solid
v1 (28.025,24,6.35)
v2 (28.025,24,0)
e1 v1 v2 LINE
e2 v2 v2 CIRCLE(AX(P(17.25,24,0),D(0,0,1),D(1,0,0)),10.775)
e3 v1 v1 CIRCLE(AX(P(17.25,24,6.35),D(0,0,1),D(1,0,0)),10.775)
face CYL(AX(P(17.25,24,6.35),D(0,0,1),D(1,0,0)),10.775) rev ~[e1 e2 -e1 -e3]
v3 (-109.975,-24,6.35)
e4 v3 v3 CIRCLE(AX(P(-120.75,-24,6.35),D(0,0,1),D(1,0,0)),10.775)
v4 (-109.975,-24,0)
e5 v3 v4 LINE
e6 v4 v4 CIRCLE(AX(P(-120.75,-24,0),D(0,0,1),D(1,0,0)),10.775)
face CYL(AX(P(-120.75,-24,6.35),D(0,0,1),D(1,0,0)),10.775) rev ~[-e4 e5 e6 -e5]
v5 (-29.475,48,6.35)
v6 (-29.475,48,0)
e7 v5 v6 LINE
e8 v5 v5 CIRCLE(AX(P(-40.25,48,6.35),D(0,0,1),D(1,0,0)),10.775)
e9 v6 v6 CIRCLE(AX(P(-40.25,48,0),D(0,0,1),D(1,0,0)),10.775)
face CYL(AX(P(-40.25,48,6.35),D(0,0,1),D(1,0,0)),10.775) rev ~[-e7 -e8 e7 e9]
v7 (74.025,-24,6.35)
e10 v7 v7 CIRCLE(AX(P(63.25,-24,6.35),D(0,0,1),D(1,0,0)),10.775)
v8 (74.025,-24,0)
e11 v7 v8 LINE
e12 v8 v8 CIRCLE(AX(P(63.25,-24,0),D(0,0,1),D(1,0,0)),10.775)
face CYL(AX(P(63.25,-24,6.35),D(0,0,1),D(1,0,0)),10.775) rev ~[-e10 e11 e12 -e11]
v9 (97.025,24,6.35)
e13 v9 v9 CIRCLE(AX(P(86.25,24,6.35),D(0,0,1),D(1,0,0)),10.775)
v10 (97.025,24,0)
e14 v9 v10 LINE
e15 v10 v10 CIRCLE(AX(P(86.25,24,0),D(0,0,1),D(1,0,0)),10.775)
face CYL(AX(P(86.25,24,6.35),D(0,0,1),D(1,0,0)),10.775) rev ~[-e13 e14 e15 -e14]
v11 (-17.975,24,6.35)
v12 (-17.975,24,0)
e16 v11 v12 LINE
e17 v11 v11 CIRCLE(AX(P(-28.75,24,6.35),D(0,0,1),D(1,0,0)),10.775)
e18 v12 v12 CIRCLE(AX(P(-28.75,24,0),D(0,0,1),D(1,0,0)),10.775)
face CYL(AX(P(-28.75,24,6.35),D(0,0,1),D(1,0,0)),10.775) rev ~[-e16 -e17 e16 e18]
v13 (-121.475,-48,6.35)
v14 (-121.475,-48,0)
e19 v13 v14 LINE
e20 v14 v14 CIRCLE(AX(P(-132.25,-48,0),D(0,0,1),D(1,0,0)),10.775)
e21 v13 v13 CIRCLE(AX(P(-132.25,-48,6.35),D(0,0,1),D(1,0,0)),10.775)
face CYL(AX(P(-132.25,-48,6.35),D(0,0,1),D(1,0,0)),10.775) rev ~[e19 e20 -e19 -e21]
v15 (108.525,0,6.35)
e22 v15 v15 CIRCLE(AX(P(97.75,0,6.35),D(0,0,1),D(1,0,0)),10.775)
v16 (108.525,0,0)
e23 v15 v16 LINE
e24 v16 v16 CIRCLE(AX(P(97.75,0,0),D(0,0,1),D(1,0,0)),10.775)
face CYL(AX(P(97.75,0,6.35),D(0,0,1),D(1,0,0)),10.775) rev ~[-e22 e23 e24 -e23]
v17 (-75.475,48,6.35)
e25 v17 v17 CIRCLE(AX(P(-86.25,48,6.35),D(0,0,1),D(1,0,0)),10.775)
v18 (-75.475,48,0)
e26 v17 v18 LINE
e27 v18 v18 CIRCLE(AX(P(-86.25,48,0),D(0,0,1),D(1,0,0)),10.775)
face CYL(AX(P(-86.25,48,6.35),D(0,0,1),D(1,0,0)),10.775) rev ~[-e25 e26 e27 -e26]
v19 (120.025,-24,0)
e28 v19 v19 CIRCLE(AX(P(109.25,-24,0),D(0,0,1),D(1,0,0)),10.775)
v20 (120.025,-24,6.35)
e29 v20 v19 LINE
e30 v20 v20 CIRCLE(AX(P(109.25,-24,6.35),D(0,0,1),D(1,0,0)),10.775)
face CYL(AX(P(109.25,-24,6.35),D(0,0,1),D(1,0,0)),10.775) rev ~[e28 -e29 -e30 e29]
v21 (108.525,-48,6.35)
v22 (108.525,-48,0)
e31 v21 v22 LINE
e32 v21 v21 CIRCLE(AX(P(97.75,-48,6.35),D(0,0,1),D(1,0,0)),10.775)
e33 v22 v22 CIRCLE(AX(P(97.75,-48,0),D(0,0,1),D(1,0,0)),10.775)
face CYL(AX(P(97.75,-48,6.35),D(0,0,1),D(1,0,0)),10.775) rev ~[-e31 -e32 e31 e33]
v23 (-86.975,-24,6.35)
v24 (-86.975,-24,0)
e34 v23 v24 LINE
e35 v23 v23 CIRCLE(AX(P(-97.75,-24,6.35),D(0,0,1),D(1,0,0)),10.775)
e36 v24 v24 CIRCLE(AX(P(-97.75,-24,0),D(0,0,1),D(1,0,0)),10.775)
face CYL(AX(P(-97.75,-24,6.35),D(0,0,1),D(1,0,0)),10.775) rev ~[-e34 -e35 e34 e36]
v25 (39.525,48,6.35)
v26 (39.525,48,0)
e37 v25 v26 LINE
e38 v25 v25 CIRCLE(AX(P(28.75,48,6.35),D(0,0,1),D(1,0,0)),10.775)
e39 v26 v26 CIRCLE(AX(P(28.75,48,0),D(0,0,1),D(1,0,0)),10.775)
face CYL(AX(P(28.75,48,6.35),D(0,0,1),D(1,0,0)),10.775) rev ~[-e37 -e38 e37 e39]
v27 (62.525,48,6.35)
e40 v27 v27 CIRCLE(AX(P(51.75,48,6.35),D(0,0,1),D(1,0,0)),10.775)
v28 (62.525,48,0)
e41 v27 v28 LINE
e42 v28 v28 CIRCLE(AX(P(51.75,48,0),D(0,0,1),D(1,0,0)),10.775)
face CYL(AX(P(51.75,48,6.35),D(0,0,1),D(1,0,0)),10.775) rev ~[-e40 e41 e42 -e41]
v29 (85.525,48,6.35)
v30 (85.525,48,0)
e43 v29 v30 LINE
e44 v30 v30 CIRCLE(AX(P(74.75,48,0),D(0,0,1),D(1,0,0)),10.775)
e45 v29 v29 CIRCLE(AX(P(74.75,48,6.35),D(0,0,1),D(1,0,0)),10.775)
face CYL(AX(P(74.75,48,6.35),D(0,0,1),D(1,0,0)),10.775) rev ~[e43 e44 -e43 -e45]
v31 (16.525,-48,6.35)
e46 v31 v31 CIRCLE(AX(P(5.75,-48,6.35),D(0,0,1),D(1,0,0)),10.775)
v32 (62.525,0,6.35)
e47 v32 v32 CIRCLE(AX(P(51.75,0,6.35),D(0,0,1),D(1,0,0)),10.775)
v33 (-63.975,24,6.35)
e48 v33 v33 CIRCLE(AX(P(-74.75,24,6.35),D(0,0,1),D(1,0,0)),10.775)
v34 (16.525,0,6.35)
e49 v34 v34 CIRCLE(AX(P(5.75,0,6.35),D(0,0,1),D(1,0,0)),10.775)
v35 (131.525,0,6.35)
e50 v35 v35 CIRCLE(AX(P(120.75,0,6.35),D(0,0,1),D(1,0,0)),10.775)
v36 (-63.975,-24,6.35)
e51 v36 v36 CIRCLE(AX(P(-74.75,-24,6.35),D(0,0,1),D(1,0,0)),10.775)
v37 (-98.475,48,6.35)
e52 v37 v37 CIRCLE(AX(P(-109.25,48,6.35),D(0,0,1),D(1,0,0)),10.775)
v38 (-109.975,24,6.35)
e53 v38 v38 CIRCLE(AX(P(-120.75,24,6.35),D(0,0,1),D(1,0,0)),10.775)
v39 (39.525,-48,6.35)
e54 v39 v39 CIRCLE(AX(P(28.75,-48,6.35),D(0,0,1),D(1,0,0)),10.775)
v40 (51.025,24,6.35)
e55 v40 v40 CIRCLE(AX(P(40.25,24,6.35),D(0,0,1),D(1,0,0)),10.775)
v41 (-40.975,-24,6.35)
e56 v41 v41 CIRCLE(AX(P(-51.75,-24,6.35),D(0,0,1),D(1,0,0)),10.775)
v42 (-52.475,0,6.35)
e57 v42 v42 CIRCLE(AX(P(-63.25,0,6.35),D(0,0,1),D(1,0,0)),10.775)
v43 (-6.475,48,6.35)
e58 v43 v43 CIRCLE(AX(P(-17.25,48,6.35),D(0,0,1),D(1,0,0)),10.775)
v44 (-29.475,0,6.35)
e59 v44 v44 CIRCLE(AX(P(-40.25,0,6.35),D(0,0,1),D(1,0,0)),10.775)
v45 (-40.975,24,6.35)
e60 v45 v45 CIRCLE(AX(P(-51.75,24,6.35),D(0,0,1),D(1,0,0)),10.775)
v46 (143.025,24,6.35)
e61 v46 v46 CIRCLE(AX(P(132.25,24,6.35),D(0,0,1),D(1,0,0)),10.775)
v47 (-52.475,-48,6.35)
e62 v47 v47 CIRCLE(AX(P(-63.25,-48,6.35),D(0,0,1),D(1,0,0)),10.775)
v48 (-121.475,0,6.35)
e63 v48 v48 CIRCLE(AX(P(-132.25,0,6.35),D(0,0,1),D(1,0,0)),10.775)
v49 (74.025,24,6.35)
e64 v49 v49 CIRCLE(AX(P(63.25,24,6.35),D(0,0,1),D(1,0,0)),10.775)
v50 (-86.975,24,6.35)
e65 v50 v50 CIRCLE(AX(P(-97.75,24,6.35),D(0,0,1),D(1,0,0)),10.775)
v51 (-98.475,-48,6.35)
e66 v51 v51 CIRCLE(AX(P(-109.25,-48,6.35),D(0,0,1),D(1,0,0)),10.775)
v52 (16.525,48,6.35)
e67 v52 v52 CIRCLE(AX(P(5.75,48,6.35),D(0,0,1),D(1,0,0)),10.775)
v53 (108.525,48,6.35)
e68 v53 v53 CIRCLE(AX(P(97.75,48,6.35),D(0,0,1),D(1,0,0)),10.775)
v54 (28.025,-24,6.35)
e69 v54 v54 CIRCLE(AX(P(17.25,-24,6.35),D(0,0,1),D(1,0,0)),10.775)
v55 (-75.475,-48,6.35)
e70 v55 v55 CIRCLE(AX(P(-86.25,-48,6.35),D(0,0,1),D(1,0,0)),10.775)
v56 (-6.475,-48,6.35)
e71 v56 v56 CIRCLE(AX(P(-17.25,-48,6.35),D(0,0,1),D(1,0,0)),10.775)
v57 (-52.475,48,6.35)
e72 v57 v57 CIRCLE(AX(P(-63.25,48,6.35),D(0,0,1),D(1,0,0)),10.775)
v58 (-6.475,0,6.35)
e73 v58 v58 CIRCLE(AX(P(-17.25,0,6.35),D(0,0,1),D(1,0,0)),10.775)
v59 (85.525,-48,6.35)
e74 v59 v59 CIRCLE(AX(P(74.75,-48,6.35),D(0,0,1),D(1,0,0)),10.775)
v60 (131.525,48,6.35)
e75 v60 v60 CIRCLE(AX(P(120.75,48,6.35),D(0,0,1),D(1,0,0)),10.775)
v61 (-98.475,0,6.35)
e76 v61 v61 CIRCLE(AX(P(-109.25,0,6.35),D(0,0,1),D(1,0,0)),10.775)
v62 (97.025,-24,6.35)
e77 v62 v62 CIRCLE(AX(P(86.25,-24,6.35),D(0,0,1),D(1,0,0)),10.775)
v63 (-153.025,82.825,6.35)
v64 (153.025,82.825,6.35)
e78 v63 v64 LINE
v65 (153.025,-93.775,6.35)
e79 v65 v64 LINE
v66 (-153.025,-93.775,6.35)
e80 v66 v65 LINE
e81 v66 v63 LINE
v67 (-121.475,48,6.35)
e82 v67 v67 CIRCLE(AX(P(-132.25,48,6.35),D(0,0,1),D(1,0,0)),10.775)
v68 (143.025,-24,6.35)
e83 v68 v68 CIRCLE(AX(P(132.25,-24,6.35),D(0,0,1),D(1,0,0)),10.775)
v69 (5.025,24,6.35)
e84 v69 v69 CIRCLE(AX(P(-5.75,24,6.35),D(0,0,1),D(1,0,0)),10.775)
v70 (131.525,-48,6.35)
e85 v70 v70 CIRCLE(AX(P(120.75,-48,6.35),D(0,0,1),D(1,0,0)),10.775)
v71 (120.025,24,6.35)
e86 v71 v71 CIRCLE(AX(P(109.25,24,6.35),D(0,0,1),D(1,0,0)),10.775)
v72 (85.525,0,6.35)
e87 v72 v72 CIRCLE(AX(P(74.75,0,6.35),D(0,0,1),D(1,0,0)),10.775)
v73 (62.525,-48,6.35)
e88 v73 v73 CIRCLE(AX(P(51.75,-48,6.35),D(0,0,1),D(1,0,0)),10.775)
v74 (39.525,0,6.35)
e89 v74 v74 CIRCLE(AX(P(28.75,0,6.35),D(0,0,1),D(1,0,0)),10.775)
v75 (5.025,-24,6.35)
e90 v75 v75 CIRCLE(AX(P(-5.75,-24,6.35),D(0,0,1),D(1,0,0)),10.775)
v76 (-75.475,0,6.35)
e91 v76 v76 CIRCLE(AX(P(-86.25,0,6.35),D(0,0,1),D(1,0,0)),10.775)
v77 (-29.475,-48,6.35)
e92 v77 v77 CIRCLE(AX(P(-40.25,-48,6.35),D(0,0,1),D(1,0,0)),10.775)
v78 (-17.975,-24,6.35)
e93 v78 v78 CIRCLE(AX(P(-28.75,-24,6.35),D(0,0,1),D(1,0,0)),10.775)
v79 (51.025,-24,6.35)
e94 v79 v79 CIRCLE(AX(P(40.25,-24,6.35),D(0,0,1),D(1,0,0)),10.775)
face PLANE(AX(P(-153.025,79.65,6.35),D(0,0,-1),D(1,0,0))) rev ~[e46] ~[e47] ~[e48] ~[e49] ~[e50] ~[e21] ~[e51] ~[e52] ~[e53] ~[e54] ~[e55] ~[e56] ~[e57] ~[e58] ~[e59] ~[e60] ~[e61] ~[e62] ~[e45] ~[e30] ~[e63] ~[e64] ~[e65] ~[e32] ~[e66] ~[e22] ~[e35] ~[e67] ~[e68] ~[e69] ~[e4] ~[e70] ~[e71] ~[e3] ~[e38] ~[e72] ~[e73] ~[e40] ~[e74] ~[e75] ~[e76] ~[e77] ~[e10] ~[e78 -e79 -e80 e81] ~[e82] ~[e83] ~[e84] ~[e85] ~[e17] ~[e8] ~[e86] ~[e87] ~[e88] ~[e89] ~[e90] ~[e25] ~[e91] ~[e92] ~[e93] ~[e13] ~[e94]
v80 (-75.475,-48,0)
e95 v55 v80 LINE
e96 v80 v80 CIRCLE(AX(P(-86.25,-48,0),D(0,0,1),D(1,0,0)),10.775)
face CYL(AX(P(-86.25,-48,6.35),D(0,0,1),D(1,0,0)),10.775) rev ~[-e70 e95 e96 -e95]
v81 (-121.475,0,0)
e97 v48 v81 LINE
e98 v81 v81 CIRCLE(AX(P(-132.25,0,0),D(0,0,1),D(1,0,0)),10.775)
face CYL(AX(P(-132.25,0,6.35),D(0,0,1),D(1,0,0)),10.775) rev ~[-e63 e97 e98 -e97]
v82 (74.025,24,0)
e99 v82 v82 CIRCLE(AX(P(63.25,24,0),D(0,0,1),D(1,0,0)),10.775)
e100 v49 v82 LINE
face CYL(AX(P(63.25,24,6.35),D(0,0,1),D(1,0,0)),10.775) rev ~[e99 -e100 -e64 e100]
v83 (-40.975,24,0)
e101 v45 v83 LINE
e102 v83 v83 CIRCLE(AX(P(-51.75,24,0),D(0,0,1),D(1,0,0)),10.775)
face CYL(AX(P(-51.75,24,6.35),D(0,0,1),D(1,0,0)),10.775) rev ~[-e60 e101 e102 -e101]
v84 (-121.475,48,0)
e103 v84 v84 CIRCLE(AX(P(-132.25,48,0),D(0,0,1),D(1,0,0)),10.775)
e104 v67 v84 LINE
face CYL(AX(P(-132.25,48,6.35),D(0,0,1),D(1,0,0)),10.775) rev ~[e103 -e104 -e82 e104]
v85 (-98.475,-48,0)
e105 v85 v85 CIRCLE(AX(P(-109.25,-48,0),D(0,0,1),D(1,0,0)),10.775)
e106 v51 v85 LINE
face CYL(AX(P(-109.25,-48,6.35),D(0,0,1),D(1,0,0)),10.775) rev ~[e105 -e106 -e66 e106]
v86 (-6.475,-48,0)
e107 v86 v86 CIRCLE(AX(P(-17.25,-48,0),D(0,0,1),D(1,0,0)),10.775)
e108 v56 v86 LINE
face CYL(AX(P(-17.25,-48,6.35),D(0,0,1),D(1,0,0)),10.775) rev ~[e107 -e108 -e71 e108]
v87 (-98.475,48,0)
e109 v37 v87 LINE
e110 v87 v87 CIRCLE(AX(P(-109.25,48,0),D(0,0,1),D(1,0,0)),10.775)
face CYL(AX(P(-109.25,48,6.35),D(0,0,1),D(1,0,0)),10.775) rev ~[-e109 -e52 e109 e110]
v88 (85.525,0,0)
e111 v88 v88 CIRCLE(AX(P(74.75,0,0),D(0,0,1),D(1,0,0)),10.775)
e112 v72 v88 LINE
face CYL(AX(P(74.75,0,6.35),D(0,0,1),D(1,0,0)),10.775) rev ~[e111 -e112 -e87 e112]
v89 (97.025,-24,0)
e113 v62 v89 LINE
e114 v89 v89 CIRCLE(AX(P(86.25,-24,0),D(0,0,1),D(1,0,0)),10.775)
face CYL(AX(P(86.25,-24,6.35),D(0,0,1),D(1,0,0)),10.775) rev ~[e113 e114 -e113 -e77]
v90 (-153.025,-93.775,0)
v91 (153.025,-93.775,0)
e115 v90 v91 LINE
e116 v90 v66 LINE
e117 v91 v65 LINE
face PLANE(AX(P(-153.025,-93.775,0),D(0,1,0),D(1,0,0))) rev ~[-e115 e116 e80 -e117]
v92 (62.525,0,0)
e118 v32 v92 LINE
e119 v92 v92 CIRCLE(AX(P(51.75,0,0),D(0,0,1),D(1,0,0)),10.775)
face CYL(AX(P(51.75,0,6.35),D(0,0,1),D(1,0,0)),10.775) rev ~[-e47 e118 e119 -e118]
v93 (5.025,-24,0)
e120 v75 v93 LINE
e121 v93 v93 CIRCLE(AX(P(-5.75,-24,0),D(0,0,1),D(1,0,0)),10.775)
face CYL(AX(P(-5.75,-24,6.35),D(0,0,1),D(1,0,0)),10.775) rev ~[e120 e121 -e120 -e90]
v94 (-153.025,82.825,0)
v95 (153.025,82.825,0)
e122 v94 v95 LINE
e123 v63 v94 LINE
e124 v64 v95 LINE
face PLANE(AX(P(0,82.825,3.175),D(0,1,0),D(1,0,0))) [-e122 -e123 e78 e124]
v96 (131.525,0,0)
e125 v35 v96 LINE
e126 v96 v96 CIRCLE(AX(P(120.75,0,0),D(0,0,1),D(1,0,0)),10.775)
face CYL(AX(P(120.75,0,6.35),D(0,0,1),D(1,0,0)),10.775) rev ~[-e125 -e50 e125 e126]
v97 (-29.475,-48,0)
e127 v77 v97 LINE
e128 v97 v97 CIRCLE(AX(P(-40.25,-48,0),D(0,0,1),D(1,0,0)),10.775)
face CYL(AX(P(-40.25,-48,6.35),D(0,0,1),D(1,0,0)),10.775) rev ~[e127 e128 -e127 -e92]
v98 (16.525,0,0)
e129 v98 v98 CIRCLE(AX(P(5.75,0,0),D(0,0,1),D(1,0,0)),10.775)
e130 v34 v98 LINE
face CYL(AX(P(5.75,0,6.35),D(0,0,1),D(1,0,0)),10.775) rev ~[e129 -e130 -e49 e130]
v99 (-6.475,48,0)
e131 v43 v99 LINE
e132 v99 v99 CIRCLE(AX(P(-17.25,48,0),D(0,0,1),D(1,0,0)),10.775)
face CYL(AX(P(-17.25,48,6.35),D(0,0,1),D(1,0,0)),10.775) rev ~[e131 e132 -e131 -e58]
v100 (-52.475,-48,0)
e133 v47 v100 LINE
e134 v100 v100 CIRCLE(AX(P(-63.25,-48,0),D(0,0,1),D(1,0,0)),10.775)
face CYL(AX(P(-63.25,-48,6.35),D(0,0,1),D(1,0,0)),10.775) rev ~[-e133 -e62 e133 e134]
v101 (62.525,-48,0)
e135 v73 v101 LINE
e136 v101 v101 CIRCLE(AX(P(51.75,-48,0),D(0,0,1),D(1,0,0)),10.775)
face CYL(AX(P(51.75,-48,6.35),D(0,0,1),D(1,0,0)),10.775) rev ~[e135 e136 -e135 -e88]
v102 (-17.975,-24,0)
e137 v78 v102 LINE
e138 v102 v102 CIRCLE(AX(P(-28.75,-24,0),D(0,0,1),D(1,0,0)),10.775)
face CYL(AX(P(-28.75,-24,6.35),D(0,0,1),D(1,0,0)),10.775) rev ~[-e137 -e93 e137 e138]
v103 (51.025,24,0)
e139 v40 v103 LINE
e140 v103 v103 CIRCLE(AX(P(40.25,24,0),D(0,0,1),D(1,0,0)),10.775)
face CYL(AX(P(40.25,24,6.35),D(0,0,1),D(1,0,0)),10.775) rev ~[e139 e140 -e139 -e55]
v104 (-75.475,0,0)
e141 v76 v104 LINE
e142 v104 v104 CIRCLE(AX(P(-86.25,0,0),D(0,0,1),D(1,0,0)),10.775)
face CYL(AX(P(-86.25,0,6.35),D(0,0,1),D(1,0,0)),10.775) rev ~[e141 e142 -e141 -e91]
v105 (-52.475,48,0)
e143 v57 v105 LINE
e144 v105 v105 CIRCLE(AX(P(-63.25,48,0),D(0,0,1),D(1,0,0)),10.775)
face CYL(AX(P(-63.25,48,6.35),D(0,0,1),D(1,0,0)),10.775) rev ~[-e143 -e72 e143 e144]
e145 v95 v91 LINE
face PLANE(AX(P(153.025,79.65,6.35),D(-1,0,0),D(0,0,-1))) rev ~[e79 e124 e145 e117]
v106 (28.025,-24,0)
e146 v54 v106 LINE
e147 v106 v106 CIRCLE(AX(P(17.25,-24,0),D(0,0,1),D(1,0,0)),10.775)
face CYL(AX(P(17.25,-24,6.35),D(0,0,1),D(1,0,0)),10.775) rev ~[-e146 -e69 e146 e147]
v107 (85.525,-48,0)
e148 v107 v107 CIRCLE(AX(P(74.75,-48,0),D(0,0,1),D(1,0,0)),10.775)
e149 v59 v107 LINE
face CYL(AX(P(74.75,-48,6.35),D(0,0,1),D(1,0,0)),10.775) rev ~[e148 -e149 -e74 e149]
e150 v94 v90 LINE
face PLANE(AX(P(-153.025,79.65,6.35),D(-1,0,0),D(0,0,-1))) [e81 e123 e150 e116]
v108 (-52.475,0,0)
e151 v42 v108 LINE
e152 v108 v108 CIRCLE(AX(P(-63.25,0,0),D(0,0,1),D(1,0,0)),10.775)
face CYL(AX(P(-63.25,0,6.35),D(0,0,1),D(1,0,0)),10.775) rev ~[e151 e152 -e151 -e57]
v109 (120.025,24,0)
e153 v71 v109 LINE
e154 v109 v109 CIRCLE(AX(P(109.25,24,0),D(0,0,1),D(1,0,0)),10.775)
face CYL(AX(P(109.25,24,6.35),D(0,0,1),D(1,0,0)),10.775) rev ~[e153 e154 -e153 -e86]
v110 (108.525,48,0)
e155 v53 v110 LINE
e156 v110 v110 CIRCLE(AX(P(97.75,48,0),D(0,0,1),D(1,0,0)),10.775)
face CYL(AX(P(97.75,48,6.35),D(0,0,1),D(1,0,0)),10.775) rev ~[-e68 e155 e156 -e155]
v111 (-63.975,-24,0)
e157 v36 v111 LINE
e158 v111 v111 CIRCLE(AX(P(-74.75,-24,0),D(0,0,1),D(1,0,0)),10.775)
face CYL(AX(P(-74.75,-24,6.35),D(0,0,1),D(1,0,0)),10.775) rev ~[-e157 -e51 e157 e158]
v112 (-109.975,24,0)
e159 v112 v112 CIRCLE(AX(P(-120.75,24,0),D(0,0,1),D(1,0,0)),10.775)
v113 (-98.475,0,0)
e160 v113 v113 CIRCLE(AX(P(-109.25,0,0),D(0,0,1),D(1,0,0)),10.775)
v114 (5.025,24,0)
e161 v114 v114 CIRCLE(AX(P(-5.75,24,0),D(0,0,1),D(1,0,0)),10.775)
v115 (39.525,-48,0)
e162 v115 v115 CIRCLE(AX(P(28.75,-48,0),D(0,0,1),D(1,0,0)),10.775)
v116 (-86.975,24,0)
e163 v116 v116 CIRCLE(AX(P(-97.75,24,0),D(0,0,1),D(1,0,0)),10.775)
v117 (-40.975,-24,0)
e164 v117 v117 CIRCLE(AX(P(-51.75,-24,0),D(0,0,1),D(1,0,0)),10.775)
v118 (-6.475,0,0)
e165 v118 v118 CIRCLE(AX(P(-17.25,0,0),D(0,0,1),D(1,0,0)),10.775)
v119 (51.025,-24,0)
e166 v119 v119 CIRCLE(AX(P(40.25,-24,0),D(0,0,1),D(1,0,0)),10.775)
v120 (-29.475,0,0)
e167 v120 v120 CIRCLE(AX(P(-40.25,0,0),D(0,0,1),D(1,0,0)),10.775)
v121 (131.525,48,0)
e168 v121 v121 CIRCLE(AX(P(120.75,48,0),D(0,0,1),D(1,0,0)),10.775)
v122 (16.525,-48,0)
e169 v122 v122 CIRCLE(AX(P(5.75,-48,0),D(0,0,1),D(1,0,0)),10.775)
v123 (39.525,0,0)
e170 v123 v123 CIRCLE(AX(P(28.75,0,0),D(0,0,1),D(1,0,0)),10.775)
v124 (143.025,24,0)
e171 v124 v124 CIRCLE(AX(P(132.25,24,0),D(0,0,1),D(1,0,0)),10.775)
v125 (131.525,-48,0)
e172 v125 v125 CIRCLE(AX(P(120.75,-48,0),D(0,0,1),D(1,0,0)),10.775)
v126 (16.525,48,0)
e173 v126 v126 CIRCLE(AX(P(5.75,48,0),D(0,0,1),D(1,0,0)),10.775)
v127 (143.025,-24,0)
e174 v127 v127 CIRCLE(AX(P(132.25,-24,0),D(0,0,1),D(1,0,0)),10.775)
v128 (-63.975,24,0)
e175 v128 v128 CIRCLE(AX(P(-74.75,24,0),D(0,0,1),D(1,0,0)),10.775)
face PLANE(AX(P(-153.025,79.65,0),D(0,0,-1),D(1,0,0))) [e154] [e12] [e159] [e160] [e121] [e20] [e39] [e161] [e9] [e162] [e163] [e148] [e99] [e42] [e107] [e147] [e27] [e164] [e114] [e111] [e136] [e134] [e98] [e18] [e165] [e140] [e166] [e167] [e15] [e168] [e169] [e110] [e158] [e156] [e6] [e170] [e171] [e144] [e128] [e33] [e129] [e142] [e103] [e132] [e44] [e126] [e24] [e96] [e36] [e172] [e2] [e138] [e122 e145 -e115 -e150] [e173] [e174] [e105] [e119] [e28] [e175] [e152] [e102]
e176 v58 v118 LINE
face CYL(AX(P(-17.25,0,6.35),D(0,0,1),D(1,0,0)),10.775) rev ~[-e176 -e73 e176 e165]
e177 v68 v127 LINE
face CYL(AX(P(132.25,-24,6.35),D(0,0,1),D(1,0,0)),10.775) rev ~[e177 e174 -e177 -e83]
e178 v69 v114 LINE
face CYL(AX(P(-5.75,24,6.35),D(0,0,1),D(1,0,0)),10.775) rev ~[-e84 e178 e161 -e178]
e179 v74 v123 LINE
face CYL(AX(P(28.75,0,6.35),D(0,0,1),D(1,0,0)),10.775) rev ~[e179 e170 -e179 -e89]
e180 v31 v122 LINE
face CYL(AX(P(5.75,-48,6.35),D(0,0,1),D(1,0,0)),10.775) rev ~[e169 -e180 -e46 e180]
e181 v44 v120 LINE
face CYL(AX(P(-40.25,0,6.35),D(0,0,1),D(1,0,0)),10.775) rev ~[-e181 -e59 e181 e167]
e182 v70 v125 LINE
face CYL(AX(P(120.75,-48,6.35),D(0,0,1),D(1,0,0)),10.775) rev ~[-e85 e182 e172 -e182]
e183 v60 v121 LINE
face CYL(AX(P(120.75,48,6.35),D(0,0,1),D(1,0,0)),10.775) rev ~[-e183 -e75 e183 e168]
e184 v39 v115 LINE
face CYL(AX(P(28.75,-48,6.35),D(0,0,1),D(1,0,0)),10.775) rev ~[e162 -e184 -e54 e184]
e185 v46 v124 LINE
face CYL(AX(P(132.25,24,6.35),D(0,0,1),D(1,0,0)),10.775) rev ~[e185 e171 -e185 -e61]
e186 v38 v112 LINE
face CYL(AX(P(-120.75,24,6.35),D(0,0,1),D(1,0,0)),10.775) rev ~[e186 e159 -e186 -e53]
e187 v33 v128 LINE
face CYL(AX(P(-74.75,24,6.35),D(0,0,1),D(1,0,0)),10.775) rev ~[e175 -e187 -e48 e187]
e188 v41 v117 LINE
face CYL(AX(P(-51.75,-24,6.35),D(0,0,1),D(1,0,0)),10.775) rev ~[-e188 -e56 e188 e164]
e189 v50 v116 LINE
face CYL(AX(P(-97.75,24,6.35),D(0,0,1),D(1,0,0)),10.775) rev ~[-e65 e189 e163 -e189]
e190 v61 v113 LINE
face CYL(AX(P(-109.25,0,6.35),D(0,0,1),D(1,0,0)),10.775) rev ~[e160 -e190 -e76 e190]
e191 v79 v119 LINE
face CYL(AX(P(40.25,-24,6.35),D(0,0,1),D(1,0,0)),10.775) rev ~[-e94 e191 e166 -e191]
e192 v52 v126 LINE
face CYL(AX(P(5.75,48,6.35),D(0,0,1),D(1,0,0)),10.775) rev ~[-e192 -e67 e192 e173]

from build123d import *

# Parameters (mm, degrees)
SKETCH1_W                  = 306.05000007
SKETCH1_H                  = 173.4250001
BOSS_EXTRUDE1_DEPTH        = 6.35
SKETCH3_R                  = 10.775
CUT_EXTRUDE1_DEPTH         = 180.584865148
SKETCH4_R                  = 10.775
CUT_EXTRUDE2_DEPTH         = 180.584865148
LPATTERN1_COUNT            = 12
LPATTERN1_PITCH            = 23
LPATTERN3_COUNT            = 12
LPATTERN3_PITCH            = 23
LPATTERN2_COUNT            = 3
LPATTERN2_PITCH            = 48
LPATTERN2_COPY_1_SKETCH_R  = 10.775
LPATTERN2_COPY_1_DEPTH     = 180.584865148
LPATTERN2_COPY_2_SKETCH_R  = 10.775
LPATTERN2_COPY_2_DEPTH     = 180.584865148
LPATTERN2_COPY_3_SKETCH_R  = 10.775
LPATTERN2_COPY_3_DEPTH     = 180.584865148
LPATTERN2_COPY_4_SKETCH_R  = 10.775
LPATTERN2_COPY_4_DEPTH     = 180.584865148
LPATTERN2_COPY_5_SKETCH_R  = 10.775
LPATTERN2_COPY_5_DEPTH     = 180.584865148
LPATTERN2_COPY_6_SKETCH_R  = 10.775
LPATTERN2_COPY_6_DEPTH     = 180.584865148
LPATTERN2_COPY_7_SKETCH_R  = 10.775
LPATTERN2_COPY_7_DEPTH     = 180.584865148
LPATTERN2_COPY_8_SKETCH_R  = 10.775
LPATTERN2_COPY_8_DEPTH     = 180.584865148
LPATTERN2_COPY_9_SKETCH_R  = 10.775
LPATTERN2_COPY_9_DEPTH     = 180.584865148
LPATTERN2_COPY_10_SKETCH_R = 10.775
LPATTERN2_COPY_10_DEPTH    = 180.584865148
LPATTERN2_COPY_11_SKETCH_R = 10.775
LPATTERN2_COPY_11_DEPTH    = 180.584865148
LPATTERN2_COPY_12_SKETCH_R = 10.775
LPATTERN2_COPY_12_DEPTH    = 180.584865148
LPATTERN2_COPY_13_SKETCH_R = 10.775
LPATTERN2_COPY_13_DEPTH    = 180.584865148
LPATTERN2_COPY_14_SKETCH_R = 10.775
LPATTERN2_COPY_14_DEPTH    = 180.584865148
LPATTERN2_COPY_15_SKETCH_R = 10.775
LPATTERN2_COPY_15_DEPTH    = 180.584865148
LPATTERN2_COPY_16_SKETCH_R = 10.775
LPATTERN2_COPY_16_DEPTH    = 180.584865148
LPATTERN2_COPY_17_SKETCH_R = 10.775
LPATTERN2_COPY_17_DEPTH    = 180.584865148
LPATTERN2_COPY_18_SKETCH_R = 10.775
LPATTERN2_COPY_18_DEPTH    = 180.584865148
LPATTERN2_COPY_19_SKETCH_R = 10.775
LPATTERN2_COPY_19_DEPTH    = 180.584865148
LPATTERN2_COPY_20_SKETCH_R = 10.775
LPATTERN2_COPY_20_DEPTH    = 180.584865148
LPATTERN2_COPY_21_SKETCH_R = 10.775
LPATTERN2_COPY_21_DEPTH    = 180.584865148
LPATTERN2_COPY_22_SKETCH_R = 10.775
LPATTERN2_COPY_22_DEPTH    = 180.584865148
LPATTERN4_COUNT            = 2
LPATTERN4_PITCH            = 48
LPATTERN4_COPY_1_SKETCH_R  = 10.775
LPATTERN4_COPY_1_DEPTH     = 180.584865148
LPATTERN4_COPY_2_SKETCH_R  = 10.775
LPATTERN4_COPY_2_DEPTH     = 180.584865148
LPATTERN4_COPY_3_SKETCH_R  = 10.775
LPATTERN4_COPY_3_DEPTH     = 180.584865148
LPATTERN4_COPY_4_SKETCH_R  = 10.775
LPATTERN4_COPY_4_DEPTH     = 180.584865148
LPATTERN4_COPY_5_SKETCH_R  = 10.775
LPATTERN4_COPY_5_DEPTH     = 180.584865148
LPATTERN4_COPY_6_SKETCH_R  = 10.775
LPATTERN4_COPY_6_DEPTH     = 180.584865148
LPATTERN4_COPY_7_SKETCH_R  = 10.775
LPATTERN4_COPY_7_DEPTH     = 180.584865148
LPATTERN4_COPY_8_SKETCH_R  = 10.775
LPATTERN4_COPY_8_DEPTH     = 180.584865148
LPATTERN4_COPY_9_SKETCH_R  = 10.775
LPATTERN4_COPY_9_DEPTH     = 180.584865148
LPATTERN4_COPY_10_SKETCH_R = 10.775
LPATTERN4_COPY_10_DEPTH    = 180.584865148
LPATTERN4_COPY_11_SKETCH_R = 10.775
LPATTERN4_COPY_11_DEPTH    = 180.584865148
SKETCH13_W                 = 306.05000007
SKETCH13_H                 = 6.35
BOSS_EXTRUDE2_DEPTH        = 3.175


with BuildPart() as part:
    # Sketch1 → Boss-Extrude1 (new body)
    with BuildSketch(Plane.XY):
        with Locations((3.5e-08, -7.06250005)):
            Rectangle(SKETCH1_W, SKETCH1_H)
    extrude(amount=BOSS_EXTRUDE1_DEPTH)

    # Sketch3 → Cut-Extrude1 (cut, through all)
    with BuildSketch(Plane.XY.offset(6.35)):
        with Locations((-132.25, -48)):
            Circle(SKETCH3_R)
    cut_extrude1 = extrude(amount=-CUT_EXTRUDE1_DEPTH, mode=Mode.SUBTRACT)

    # Sketch4 → Cut-Extrude2 (cut, through all)
    with BuildSketch(Plane.XY.offset(6.35)):
        with Locations((-120.75, -24)):
            Circle(SKETCH4_R)
    cut_extrude2 = extrude(amount=-CUT_EXTRUDE2_DEPTH, mode=Mode.SUBTRACT)

    # LPattern1: Cut-Extrude1 ×12
    with Locations(*[(i * LPATTERN1_PITCH, 0, 0) for i in range(1, LPATTERN1_COUNT)]):
        add(cut_extrude1, mode=Mode.SUBTRACT)

    # LPattern3: Cut-Extrude2 ×12
    with Locations(*[(i * LPATTERN3_PITCH, 0, 0) for i in range(1, LPATTERN3_COUNT)]):
        add(cut_extrude2, mode=Mode.SUBTRACT)

    # LPattern2: Cut-Extrude1 ×3
    with Locations(*[(0, i * LPATTERN2_PITCH, 0) for i in range(1, LPATTERN2_COUNT)]):
        add(cut_extrude1, mode=Mode.SUBTRACT)

    # LPattern2 copy 1 sketch → LPattern2 copy 1 (cut, through all)
    with BuildSketch(Plane(origin=(23, 48, 6.35), x_dir=(1, 0, 0), z_dir=(0, 0, 1))):
        with Locations((-132.25, -48)):
            Circle(LPATTERN2_COPY_1_SKETCH_R)
    extrude(amount=-LPATTERN2_COPY_1_DEPTH, mode=Mode.SUBTRACT)

    # LPattern2 copy 2 sketch → LPattern2 copy 2 (cut, through all)
    with BuildSketch(Plane(origin=(23, 96, 6.35), x_dir=(1, 0, 0), z_dir=(0, 0, 1))):
        with Locations((-132.25, -48)):
            Circle(LPATTERN2_COPY_2_SKETCH_R)
    extrude(amount=-LPATTERN2_COPY_2_DEPTH, mode=Mode.SUBTRACT)

    # LPattern2 copy 3 sketch → LPattern2 copy 3 (cut, through all)
    with BuildSketch(Plane(origin=(46, 48, 6.35), x_dir=(1, 0, 0), z_dir=(0, 0, 1))):
        with Locations((-132.25, -48)):
            Circle(LPATTERN2_COPY_3_SKETCH_R)
    extrude(amount=-LPATTERN2_COPY_3_DEPTH, mode=Mode.SUBTRACT)

    # LPattern2 copy 4 sketch → LPattern2 copy 4 (cut, through all)
    with BuildSketch(Plane(origin=(46, 96, 6.35), x_dir=(1, 0, 0), z_dir=(0, 0, 1))):
        with Locations((-132.25, -48)):
            Circle(LPATTERN2_COPY_4_SKETCH_R)
    extrude(amount=-LPATTERN2_COPY_4_DEPTH, mode=Mode.SUBTRACT)

    # LPattern2 copy 5 sketch → LPattern2 copy 5 (cut, through all)
    with BuildSketch(Plane(origin=(69, 48, 6.35), x_dir=(1, 0, 0), z_dir=(0, 0, 1))):
        with Locations((-132.25, -48)):
            Circle(LPATTERN2_COPY_5_SKETCH_R)
    extrude(amount=-LPATTERN2_COPY_5_DEPTH, mode=Mode.SUBTRACT)

    # LPattern2 copy 6 sketch → LPattern2 copy 6 (cut, through all)
    with BuildSketch(Plane(origin=(69, 96, 6.35), x_dir=(1, 0, 0), z_dir=(0, 0, 1))):
        with Locations((-132.25, -48)):
            Circle(LPATTERN2_COPY_6_SKETCH_R)
    extrude(amount=-LPATTERN2_COPY_6_DEPTH, mode=Mode.SUBTRACT)

    # LPattern2 copy 7 sketch → LPattern2 copy 7 (cut, through all)
    with BuildSketch(Plane(origin=(92, 48, 6.35), x_dir=(1, 0, 0), z_dir=(0, 0, 1))):
        with Locations((-132.25, -48)):
            Circle(LPATTERN2_COPY_7_SKETCH_R)
    extrude(amount=-LPATTERN2_COPY_7_DEPTH, mode=Mode.SUBTRACT)

    # LPattern2 copy 8 sketch → LPattern2 copy 8 (cut, through all)
    with BuildSketch(Plane(origin=(92, 96, 6.35), x_dir=(1, 0, 0), z_dir=(0, 0, 1))):
        with Locations((-132.25, -48)):
            Circle(LPATTERN2_COPY_8_SKETCH_R)
    extrude(amount=-LPATTERN2_COPY_8_DEPTH, mode=Mode.SUBTRACT)

    # LPattern2 copy 9 sketch → LPattern2 copy 9 (cut, through all)
    with BuildSketch(Plane(origin=(115, 48, 6.35), x_dir=(1, 0, 0), z_dir=(0, 0, 1))):
        with Locations((-132.25, -48)):
            Circle(LPATTERN2_COPY_9_SKETCH_R)
    extrude(amount=-LPATTERN2_COPY_9_DEPTH, mode=Mode.SUBTRACT)

    # LPattern2 copy 10 sketch → LPattern2 copy 10 (cut, through all)
    with BuildSketch(Plane(origin=(115, 96, 6.35), x_dir=(1, 0, 0), z_dir=(0, 0, 1))):
        with Locations((-132.25, -48)):
            Circle(LPATTERN2_COPY_10_SKETCH_R)
    extrude(amount=-LPATTERN2_COPY_10_DEPTH, mode=Mode.SUBTRACT)

    # LPattern2 copy 11 sketch → LPattern2 copy 11 (cut, through all)
    with BuildSketch(Plane(origin=(138, 48, 6.35), x_dir=(1, 0, 0), z_dir=(0, 0, 1))):
        with Locations((-132.25, -48)):
            Circle(LPATTERN2_COPY_11_SKETCH_R)
    extrude(amount=-LPATTERN2_COPY_11_DEPTH, mode=Mode.SUBTRACT)

    # LPattern2 copy 12 sketch → LPattern2 copy 12 (cut, through all)
    with BuildSketch(Plane(origin=(138, 96, 6.35), x_dir=(1, 0, 0), z_dir=(0, 0, 1))):
        with Locations((-132.25, -48)):
            Circle(LPATTERN2_COPY_12_SKETCH_R)
    extrude(amount=-LPATTERN2_COPY_12_DEPTH, mode=Mode.SUBTRACT)

    # LPattern2 copy 13 sketch → LPattern2 copy 13 (cut, through all)
    with BuildSketch(Plane(origin=(161, 48, 6.35), x_dir=(1, 0, 0), z_dir=(0, 0, 1))):
        with Locations((-132.25, -48)):
            Circle(LPATTERN2_COPY_13_SKETCH_R)
    extrude(amount=-LPATTERN2_COPY_13_DEPTH, mode=Mode.SUBTRACT)

    # LPattern2 copy 14 sketch → LPattern2 copy 14 (cut, through all)
    with BuildSketch(Plane(origin=(161, 96, 6.35), x_dir=(1, 0, 0), z_dir=(0, 0, 1))):
        with Locations((-132.25, -48)):
            Circle(LPATTERN2_COPY_14_SKETCH_R)
    extrude(amount=-LPATTERN2_COPY_14_DEPTH, mode=Mode.SUBTRACT)

    # LPattern2 copy 15 sketch → LPattern2 copy 15 (cut, through all)
    with BuildSketch(Plane(origin=(184, 48, 6.35), x_dir=(1, 0, 0), z_dir=(0, 0, 1))):
        with Locations((-132.25, -48)):
            Circle(LPATTERN2_COPY_15_SKETCH_R)
    extrude(amount=-LPATTERN2_COPY_15_DEPTH, mode=Mode.SUBTRACT)

    # LPattern2 copy 16 sketch → LPattern2 copy 16 (cut, through all)
    with BuildSketch(Plane(origin=(184, 96, 6.35), x_dir=(1, 0, 0), z_dir=(0, 0, 1))):
        with Locations((-132.25, -48)):
            Circle(LPATTERN2_COPY_16_SKETCH_R)
    extrude(amount=-LPATTERN2_COPY_16_DEPTH, mode=Mode.SUBTRACT)

    # LPattern2 copy 17 sketch → LPattern2 copy 17 (cut, through all)
    with BuildSketch(Plane(origin=(207, 48, 6.35), x_dir=(1, 0, 0), z_dir=(0, 0, 1))):
        with Locations((-132.25, -48)):
            Circle(LPATTERN2_COPY_17_SKETCH_R)
    extrude(amount=-LPATTERN2_COPY_17_DEPTH, mode=Mode.SUBTRACT)

    # LPattern2 copy 18 sketch → LPattern2 copy 18 (cut, through all)
    with BuildSketch(Plane(origin=(207, 96, 6.35), x_dir=(1, 0, 0), z_dir=(0, 0, 1))):
        with Locations((-132.25, -48)):
            Circle(LPATTERN2_COPY_18_SKETCH_R)
    extrude(amount=-LPATTERN2_COPY_18_DEPTH, mode=Mode.SUBTRACT)

    # LPattern2 copy 19 sketch → LPattern2 copy 19 (cut, through all)
    with BuildSketch(Plane(origin=(230, 48, 6.35), x_dir=(1, 0, 0), z_dir=(0, 0, 1))):
        with Locations((-132.25, -48)):
            Circle(LPATTERN2_COPY_19_SKETCH_R)
    extrude(amount=-LPATTERN2_COPY_19_DEPTH, mode=Mode.SUBTRACT)

    # LPattern2 copy 20 sketch → LPattern2 copy 20 (cut, through all)
    with BuildSketch(Plane(origin=(230, 96, 6.35), x_dir=(1, 0, 0), z_dir=(0, 0, 1))):
        with Locations((-132.25, -48)):
            Circle(LPATTERN2_COPY_20_SKETCH_R)
    extrude(amount=-LPATTERN2_COPY_20_DEPTH, mode=Mode.SUBTRACT)

    # LPattern2 copy 21 sketch → LPattern2 copy 21 (cut, through all)
    with BuildSketch(Plane(origin=(253, 48, 6.35), x_dir=(1, 0, 0), z_dir=(0, 0, 1))):
        with Locations((-132.25, -48)):
            Circle(LPATTERN2_COPY_21_SKETCH_R)
    extrude(amount=-LPATTERN2_COPY_21_DEPTH, mode=Mode.SUBTRACT)

    # LPattern2 copy 22 sketch → LPattern2 copy 22 (cut, through all)
    with BuildSketch(Plane(origin=(253, 96, 6.35), x_dir=(1, 0, 0), z_dir=(0, 0, 1))):
        with Locations((-132.25, -48)):
            Circle(LPATTERN2_COPY_22_SKETCH_R)
    extrude(amount=-LPATTERN2_COPY_22_DEPTH, mode=Mode.SUBTRACT)

    # LPattern4: Cut-Extrude2 ×2
    with Locations(*[(0, i * LPATTERN4_PITCH, 0) for i in range(1, LPATTERN4_COUNT)]):
        add(cut_extrude2, mode=Mode.SUBTRACT)

    # LPattern4 copy 1 sketch → LPattern4 copy 1 (cut, through all)
    with BuildSketch(Plane(origin=(23, 48, 6.35), x_dir=(1, 0, 0), z_dir=(0, 0, 1))):
        with Locations((-120.75, -24)):
            Circle(LPATTERN4_COPY_1_SKETCH_R)
    extrude(amount=-LPATTERN4_COPY_1_DEPTH, mode=Mode.SUBTRACT)

    # LPattern4 copy 2 sketch → LPattern4 copy 2 (cut, through all)
    with BuildSketch(Plane(origin=(46, 48, 6.35), x_dir=(1, 0, 0), z_dir=(0, 0, 1))):
        with Locations((-120.75, -24)):
            Circle(LPATTERN4_COPY_2_SKETCH_R)
    extrude(amount=-LPATTERN4_COPY_2_DEPTH, mode=Mode.SUBTRACT)

    # LPattern4 copy 3 sketch → LPattern4 copy 3 (cut, through all)
    with BuildSketch(Plane(origin=(69, 48, 6.35), x_dir=(1, 0, 0), z_dir=(0, 0, 1))):
        with Locations((-120.75, -24)):
            Circle(LPATTERN4_COPY_3_SKETCH_R)
    extrude(amount=-LPATTERN4_COPY_3_DEPTH, mode=Mode.SUBTRACT)

    # LPattern4 copy 4 sketch → LPattern4 copy 4 (cut, through all)
    with BuildSketch(Plane(origin=(92, 48, 6.35), x_dir=(1, 0, 0), z_dir=(0, 0, 1))):
        with Locations((-120.75, -24)):
            Circle(LPATTERN4_COPY_4_SKETCH_R)
    extrude(amount=-LPATTERN4_COPY_4_DEPTH, mode=Mode.SUBTRACT)

    # LPattern4 copy 5 sketch → LPattern4 copy 5 (cut, through all)
    with BuildSketch(Plane(origin=(115, 48, 6.35), x_dir=(1, 0, 0), z_dir=(0, 0, 1))):
        with Locations((-120.75, -24)):
            Circle(LPATTERN4_COPY_5_SKETCH_R)
    extrude(amount=-LPATTERN4_COPY_5_DEPTH, mode=Mode.SUBTRACT)

    # LPattern4 copy 6 sketch → LPattern4 copy 6 (cut, through all)
    with BuildSketch(Plane(origin=(138, 48, 6.35), x_dir=(1, 0, 0), z_dir=(0, 0, 1))):
        with Locations((-120.75, -24)):
            Circle(LPATTERN4_COPY_6_SKETCH_R)
    extrude(amount=-LPATTERN4_COPY_6_DEPTH, mode=Mode.SUBTRACT)

    # LPattern4 copy 7 sketch → LPattern4 copy 7 (cut, through all)
    with BuildSketch(Plane(origin=(161, 48, 6.35), x_dir=(1, 0, 0), z_dir=(0, 0, 1))):
        with Locations((-120.75, -24)):
            Circle(LPATTERN4_COPY_7_SKETCH_R)
    extrude(amount=-LPATTERN4_COPY_7_DEPTH, mode=Mode.SUBTRACT)

    # LPattern4 copy 8 sketch → LPattern4 copy 8 (cut, through all)
    with BuildSketch(Plane(origin=(184, 48, 6.35), x_dir=(1, 0, 0), z_dir=(0, 0, 1))):
        with Locations((-120.75, -24)):
            Circle(LPATTERN4_COPY_8_SKETCH_R)
    extrude(amount=-LPATTERN4_COPY_8_DEPTH, mode=Mode.SUBTRACT)

    # LPattern4 copy 9 sketch → LPattern4 copy 9 (cut, through all)
    with BuildSketch(Plane(origin=(207, 48, 6.35), x_dir=(1, 0, 0), z_dir=(0, 0, 1))):
        with Locations((-120.75, -24)):
            Circle(LPATTERN4_COPY_9_SKETCH_R)
    extrude(amount=-LPATTERN4_COPY_9_DEPTH, mode=Mode.SUBTRACT)

    # LPattern4 copy 10 sketch → LPattern4 copy 10 (cut, through all)
    with BuildSketch(Plane(origin=(230, 48, 6.35), x_dir=(1, 0, 0), z_dir=(0, 0, 1))):
        with Locations((-120.75, -24)):
            Circle(LPATTERN4_COPY_10_SKETCH_R)
    extrude(amount=-LPATTERN4_COPY_10_DEPTH, mode=Mode.SUBTRACT)

    # LPattern4 copy 11 sketch → LPattern4 copy 11 (cut, through all)
    with BuildSketch(Plane(origin=(253, 48, 6.35), x_dir=(1, 0, 0), z_dir=(0, 0, 1))):
        with Locations((-120.75, -24)):
            Circle(LPATTERN4_COPY_11_SKETCH_R)
    extrude(amount=-LPATTERN4_COPY_11_DEPTH, mode=Mode.SUBTRACT)

    # Sketch13 → Boss-Extrude2 (add)
    with BuildSketch(Plane(origin=(0, 79.65, 0), x_dir=(1, 0, 0), z_dir=(0, 1, 0))):
        with Locations((3.5e-08, -3.175)):
            Rectangle(SKETCH13_W, SKETCH13_H)
    extrude(amount=BOSS_EXTRUDE2_DEPTH)


solid = part.part
